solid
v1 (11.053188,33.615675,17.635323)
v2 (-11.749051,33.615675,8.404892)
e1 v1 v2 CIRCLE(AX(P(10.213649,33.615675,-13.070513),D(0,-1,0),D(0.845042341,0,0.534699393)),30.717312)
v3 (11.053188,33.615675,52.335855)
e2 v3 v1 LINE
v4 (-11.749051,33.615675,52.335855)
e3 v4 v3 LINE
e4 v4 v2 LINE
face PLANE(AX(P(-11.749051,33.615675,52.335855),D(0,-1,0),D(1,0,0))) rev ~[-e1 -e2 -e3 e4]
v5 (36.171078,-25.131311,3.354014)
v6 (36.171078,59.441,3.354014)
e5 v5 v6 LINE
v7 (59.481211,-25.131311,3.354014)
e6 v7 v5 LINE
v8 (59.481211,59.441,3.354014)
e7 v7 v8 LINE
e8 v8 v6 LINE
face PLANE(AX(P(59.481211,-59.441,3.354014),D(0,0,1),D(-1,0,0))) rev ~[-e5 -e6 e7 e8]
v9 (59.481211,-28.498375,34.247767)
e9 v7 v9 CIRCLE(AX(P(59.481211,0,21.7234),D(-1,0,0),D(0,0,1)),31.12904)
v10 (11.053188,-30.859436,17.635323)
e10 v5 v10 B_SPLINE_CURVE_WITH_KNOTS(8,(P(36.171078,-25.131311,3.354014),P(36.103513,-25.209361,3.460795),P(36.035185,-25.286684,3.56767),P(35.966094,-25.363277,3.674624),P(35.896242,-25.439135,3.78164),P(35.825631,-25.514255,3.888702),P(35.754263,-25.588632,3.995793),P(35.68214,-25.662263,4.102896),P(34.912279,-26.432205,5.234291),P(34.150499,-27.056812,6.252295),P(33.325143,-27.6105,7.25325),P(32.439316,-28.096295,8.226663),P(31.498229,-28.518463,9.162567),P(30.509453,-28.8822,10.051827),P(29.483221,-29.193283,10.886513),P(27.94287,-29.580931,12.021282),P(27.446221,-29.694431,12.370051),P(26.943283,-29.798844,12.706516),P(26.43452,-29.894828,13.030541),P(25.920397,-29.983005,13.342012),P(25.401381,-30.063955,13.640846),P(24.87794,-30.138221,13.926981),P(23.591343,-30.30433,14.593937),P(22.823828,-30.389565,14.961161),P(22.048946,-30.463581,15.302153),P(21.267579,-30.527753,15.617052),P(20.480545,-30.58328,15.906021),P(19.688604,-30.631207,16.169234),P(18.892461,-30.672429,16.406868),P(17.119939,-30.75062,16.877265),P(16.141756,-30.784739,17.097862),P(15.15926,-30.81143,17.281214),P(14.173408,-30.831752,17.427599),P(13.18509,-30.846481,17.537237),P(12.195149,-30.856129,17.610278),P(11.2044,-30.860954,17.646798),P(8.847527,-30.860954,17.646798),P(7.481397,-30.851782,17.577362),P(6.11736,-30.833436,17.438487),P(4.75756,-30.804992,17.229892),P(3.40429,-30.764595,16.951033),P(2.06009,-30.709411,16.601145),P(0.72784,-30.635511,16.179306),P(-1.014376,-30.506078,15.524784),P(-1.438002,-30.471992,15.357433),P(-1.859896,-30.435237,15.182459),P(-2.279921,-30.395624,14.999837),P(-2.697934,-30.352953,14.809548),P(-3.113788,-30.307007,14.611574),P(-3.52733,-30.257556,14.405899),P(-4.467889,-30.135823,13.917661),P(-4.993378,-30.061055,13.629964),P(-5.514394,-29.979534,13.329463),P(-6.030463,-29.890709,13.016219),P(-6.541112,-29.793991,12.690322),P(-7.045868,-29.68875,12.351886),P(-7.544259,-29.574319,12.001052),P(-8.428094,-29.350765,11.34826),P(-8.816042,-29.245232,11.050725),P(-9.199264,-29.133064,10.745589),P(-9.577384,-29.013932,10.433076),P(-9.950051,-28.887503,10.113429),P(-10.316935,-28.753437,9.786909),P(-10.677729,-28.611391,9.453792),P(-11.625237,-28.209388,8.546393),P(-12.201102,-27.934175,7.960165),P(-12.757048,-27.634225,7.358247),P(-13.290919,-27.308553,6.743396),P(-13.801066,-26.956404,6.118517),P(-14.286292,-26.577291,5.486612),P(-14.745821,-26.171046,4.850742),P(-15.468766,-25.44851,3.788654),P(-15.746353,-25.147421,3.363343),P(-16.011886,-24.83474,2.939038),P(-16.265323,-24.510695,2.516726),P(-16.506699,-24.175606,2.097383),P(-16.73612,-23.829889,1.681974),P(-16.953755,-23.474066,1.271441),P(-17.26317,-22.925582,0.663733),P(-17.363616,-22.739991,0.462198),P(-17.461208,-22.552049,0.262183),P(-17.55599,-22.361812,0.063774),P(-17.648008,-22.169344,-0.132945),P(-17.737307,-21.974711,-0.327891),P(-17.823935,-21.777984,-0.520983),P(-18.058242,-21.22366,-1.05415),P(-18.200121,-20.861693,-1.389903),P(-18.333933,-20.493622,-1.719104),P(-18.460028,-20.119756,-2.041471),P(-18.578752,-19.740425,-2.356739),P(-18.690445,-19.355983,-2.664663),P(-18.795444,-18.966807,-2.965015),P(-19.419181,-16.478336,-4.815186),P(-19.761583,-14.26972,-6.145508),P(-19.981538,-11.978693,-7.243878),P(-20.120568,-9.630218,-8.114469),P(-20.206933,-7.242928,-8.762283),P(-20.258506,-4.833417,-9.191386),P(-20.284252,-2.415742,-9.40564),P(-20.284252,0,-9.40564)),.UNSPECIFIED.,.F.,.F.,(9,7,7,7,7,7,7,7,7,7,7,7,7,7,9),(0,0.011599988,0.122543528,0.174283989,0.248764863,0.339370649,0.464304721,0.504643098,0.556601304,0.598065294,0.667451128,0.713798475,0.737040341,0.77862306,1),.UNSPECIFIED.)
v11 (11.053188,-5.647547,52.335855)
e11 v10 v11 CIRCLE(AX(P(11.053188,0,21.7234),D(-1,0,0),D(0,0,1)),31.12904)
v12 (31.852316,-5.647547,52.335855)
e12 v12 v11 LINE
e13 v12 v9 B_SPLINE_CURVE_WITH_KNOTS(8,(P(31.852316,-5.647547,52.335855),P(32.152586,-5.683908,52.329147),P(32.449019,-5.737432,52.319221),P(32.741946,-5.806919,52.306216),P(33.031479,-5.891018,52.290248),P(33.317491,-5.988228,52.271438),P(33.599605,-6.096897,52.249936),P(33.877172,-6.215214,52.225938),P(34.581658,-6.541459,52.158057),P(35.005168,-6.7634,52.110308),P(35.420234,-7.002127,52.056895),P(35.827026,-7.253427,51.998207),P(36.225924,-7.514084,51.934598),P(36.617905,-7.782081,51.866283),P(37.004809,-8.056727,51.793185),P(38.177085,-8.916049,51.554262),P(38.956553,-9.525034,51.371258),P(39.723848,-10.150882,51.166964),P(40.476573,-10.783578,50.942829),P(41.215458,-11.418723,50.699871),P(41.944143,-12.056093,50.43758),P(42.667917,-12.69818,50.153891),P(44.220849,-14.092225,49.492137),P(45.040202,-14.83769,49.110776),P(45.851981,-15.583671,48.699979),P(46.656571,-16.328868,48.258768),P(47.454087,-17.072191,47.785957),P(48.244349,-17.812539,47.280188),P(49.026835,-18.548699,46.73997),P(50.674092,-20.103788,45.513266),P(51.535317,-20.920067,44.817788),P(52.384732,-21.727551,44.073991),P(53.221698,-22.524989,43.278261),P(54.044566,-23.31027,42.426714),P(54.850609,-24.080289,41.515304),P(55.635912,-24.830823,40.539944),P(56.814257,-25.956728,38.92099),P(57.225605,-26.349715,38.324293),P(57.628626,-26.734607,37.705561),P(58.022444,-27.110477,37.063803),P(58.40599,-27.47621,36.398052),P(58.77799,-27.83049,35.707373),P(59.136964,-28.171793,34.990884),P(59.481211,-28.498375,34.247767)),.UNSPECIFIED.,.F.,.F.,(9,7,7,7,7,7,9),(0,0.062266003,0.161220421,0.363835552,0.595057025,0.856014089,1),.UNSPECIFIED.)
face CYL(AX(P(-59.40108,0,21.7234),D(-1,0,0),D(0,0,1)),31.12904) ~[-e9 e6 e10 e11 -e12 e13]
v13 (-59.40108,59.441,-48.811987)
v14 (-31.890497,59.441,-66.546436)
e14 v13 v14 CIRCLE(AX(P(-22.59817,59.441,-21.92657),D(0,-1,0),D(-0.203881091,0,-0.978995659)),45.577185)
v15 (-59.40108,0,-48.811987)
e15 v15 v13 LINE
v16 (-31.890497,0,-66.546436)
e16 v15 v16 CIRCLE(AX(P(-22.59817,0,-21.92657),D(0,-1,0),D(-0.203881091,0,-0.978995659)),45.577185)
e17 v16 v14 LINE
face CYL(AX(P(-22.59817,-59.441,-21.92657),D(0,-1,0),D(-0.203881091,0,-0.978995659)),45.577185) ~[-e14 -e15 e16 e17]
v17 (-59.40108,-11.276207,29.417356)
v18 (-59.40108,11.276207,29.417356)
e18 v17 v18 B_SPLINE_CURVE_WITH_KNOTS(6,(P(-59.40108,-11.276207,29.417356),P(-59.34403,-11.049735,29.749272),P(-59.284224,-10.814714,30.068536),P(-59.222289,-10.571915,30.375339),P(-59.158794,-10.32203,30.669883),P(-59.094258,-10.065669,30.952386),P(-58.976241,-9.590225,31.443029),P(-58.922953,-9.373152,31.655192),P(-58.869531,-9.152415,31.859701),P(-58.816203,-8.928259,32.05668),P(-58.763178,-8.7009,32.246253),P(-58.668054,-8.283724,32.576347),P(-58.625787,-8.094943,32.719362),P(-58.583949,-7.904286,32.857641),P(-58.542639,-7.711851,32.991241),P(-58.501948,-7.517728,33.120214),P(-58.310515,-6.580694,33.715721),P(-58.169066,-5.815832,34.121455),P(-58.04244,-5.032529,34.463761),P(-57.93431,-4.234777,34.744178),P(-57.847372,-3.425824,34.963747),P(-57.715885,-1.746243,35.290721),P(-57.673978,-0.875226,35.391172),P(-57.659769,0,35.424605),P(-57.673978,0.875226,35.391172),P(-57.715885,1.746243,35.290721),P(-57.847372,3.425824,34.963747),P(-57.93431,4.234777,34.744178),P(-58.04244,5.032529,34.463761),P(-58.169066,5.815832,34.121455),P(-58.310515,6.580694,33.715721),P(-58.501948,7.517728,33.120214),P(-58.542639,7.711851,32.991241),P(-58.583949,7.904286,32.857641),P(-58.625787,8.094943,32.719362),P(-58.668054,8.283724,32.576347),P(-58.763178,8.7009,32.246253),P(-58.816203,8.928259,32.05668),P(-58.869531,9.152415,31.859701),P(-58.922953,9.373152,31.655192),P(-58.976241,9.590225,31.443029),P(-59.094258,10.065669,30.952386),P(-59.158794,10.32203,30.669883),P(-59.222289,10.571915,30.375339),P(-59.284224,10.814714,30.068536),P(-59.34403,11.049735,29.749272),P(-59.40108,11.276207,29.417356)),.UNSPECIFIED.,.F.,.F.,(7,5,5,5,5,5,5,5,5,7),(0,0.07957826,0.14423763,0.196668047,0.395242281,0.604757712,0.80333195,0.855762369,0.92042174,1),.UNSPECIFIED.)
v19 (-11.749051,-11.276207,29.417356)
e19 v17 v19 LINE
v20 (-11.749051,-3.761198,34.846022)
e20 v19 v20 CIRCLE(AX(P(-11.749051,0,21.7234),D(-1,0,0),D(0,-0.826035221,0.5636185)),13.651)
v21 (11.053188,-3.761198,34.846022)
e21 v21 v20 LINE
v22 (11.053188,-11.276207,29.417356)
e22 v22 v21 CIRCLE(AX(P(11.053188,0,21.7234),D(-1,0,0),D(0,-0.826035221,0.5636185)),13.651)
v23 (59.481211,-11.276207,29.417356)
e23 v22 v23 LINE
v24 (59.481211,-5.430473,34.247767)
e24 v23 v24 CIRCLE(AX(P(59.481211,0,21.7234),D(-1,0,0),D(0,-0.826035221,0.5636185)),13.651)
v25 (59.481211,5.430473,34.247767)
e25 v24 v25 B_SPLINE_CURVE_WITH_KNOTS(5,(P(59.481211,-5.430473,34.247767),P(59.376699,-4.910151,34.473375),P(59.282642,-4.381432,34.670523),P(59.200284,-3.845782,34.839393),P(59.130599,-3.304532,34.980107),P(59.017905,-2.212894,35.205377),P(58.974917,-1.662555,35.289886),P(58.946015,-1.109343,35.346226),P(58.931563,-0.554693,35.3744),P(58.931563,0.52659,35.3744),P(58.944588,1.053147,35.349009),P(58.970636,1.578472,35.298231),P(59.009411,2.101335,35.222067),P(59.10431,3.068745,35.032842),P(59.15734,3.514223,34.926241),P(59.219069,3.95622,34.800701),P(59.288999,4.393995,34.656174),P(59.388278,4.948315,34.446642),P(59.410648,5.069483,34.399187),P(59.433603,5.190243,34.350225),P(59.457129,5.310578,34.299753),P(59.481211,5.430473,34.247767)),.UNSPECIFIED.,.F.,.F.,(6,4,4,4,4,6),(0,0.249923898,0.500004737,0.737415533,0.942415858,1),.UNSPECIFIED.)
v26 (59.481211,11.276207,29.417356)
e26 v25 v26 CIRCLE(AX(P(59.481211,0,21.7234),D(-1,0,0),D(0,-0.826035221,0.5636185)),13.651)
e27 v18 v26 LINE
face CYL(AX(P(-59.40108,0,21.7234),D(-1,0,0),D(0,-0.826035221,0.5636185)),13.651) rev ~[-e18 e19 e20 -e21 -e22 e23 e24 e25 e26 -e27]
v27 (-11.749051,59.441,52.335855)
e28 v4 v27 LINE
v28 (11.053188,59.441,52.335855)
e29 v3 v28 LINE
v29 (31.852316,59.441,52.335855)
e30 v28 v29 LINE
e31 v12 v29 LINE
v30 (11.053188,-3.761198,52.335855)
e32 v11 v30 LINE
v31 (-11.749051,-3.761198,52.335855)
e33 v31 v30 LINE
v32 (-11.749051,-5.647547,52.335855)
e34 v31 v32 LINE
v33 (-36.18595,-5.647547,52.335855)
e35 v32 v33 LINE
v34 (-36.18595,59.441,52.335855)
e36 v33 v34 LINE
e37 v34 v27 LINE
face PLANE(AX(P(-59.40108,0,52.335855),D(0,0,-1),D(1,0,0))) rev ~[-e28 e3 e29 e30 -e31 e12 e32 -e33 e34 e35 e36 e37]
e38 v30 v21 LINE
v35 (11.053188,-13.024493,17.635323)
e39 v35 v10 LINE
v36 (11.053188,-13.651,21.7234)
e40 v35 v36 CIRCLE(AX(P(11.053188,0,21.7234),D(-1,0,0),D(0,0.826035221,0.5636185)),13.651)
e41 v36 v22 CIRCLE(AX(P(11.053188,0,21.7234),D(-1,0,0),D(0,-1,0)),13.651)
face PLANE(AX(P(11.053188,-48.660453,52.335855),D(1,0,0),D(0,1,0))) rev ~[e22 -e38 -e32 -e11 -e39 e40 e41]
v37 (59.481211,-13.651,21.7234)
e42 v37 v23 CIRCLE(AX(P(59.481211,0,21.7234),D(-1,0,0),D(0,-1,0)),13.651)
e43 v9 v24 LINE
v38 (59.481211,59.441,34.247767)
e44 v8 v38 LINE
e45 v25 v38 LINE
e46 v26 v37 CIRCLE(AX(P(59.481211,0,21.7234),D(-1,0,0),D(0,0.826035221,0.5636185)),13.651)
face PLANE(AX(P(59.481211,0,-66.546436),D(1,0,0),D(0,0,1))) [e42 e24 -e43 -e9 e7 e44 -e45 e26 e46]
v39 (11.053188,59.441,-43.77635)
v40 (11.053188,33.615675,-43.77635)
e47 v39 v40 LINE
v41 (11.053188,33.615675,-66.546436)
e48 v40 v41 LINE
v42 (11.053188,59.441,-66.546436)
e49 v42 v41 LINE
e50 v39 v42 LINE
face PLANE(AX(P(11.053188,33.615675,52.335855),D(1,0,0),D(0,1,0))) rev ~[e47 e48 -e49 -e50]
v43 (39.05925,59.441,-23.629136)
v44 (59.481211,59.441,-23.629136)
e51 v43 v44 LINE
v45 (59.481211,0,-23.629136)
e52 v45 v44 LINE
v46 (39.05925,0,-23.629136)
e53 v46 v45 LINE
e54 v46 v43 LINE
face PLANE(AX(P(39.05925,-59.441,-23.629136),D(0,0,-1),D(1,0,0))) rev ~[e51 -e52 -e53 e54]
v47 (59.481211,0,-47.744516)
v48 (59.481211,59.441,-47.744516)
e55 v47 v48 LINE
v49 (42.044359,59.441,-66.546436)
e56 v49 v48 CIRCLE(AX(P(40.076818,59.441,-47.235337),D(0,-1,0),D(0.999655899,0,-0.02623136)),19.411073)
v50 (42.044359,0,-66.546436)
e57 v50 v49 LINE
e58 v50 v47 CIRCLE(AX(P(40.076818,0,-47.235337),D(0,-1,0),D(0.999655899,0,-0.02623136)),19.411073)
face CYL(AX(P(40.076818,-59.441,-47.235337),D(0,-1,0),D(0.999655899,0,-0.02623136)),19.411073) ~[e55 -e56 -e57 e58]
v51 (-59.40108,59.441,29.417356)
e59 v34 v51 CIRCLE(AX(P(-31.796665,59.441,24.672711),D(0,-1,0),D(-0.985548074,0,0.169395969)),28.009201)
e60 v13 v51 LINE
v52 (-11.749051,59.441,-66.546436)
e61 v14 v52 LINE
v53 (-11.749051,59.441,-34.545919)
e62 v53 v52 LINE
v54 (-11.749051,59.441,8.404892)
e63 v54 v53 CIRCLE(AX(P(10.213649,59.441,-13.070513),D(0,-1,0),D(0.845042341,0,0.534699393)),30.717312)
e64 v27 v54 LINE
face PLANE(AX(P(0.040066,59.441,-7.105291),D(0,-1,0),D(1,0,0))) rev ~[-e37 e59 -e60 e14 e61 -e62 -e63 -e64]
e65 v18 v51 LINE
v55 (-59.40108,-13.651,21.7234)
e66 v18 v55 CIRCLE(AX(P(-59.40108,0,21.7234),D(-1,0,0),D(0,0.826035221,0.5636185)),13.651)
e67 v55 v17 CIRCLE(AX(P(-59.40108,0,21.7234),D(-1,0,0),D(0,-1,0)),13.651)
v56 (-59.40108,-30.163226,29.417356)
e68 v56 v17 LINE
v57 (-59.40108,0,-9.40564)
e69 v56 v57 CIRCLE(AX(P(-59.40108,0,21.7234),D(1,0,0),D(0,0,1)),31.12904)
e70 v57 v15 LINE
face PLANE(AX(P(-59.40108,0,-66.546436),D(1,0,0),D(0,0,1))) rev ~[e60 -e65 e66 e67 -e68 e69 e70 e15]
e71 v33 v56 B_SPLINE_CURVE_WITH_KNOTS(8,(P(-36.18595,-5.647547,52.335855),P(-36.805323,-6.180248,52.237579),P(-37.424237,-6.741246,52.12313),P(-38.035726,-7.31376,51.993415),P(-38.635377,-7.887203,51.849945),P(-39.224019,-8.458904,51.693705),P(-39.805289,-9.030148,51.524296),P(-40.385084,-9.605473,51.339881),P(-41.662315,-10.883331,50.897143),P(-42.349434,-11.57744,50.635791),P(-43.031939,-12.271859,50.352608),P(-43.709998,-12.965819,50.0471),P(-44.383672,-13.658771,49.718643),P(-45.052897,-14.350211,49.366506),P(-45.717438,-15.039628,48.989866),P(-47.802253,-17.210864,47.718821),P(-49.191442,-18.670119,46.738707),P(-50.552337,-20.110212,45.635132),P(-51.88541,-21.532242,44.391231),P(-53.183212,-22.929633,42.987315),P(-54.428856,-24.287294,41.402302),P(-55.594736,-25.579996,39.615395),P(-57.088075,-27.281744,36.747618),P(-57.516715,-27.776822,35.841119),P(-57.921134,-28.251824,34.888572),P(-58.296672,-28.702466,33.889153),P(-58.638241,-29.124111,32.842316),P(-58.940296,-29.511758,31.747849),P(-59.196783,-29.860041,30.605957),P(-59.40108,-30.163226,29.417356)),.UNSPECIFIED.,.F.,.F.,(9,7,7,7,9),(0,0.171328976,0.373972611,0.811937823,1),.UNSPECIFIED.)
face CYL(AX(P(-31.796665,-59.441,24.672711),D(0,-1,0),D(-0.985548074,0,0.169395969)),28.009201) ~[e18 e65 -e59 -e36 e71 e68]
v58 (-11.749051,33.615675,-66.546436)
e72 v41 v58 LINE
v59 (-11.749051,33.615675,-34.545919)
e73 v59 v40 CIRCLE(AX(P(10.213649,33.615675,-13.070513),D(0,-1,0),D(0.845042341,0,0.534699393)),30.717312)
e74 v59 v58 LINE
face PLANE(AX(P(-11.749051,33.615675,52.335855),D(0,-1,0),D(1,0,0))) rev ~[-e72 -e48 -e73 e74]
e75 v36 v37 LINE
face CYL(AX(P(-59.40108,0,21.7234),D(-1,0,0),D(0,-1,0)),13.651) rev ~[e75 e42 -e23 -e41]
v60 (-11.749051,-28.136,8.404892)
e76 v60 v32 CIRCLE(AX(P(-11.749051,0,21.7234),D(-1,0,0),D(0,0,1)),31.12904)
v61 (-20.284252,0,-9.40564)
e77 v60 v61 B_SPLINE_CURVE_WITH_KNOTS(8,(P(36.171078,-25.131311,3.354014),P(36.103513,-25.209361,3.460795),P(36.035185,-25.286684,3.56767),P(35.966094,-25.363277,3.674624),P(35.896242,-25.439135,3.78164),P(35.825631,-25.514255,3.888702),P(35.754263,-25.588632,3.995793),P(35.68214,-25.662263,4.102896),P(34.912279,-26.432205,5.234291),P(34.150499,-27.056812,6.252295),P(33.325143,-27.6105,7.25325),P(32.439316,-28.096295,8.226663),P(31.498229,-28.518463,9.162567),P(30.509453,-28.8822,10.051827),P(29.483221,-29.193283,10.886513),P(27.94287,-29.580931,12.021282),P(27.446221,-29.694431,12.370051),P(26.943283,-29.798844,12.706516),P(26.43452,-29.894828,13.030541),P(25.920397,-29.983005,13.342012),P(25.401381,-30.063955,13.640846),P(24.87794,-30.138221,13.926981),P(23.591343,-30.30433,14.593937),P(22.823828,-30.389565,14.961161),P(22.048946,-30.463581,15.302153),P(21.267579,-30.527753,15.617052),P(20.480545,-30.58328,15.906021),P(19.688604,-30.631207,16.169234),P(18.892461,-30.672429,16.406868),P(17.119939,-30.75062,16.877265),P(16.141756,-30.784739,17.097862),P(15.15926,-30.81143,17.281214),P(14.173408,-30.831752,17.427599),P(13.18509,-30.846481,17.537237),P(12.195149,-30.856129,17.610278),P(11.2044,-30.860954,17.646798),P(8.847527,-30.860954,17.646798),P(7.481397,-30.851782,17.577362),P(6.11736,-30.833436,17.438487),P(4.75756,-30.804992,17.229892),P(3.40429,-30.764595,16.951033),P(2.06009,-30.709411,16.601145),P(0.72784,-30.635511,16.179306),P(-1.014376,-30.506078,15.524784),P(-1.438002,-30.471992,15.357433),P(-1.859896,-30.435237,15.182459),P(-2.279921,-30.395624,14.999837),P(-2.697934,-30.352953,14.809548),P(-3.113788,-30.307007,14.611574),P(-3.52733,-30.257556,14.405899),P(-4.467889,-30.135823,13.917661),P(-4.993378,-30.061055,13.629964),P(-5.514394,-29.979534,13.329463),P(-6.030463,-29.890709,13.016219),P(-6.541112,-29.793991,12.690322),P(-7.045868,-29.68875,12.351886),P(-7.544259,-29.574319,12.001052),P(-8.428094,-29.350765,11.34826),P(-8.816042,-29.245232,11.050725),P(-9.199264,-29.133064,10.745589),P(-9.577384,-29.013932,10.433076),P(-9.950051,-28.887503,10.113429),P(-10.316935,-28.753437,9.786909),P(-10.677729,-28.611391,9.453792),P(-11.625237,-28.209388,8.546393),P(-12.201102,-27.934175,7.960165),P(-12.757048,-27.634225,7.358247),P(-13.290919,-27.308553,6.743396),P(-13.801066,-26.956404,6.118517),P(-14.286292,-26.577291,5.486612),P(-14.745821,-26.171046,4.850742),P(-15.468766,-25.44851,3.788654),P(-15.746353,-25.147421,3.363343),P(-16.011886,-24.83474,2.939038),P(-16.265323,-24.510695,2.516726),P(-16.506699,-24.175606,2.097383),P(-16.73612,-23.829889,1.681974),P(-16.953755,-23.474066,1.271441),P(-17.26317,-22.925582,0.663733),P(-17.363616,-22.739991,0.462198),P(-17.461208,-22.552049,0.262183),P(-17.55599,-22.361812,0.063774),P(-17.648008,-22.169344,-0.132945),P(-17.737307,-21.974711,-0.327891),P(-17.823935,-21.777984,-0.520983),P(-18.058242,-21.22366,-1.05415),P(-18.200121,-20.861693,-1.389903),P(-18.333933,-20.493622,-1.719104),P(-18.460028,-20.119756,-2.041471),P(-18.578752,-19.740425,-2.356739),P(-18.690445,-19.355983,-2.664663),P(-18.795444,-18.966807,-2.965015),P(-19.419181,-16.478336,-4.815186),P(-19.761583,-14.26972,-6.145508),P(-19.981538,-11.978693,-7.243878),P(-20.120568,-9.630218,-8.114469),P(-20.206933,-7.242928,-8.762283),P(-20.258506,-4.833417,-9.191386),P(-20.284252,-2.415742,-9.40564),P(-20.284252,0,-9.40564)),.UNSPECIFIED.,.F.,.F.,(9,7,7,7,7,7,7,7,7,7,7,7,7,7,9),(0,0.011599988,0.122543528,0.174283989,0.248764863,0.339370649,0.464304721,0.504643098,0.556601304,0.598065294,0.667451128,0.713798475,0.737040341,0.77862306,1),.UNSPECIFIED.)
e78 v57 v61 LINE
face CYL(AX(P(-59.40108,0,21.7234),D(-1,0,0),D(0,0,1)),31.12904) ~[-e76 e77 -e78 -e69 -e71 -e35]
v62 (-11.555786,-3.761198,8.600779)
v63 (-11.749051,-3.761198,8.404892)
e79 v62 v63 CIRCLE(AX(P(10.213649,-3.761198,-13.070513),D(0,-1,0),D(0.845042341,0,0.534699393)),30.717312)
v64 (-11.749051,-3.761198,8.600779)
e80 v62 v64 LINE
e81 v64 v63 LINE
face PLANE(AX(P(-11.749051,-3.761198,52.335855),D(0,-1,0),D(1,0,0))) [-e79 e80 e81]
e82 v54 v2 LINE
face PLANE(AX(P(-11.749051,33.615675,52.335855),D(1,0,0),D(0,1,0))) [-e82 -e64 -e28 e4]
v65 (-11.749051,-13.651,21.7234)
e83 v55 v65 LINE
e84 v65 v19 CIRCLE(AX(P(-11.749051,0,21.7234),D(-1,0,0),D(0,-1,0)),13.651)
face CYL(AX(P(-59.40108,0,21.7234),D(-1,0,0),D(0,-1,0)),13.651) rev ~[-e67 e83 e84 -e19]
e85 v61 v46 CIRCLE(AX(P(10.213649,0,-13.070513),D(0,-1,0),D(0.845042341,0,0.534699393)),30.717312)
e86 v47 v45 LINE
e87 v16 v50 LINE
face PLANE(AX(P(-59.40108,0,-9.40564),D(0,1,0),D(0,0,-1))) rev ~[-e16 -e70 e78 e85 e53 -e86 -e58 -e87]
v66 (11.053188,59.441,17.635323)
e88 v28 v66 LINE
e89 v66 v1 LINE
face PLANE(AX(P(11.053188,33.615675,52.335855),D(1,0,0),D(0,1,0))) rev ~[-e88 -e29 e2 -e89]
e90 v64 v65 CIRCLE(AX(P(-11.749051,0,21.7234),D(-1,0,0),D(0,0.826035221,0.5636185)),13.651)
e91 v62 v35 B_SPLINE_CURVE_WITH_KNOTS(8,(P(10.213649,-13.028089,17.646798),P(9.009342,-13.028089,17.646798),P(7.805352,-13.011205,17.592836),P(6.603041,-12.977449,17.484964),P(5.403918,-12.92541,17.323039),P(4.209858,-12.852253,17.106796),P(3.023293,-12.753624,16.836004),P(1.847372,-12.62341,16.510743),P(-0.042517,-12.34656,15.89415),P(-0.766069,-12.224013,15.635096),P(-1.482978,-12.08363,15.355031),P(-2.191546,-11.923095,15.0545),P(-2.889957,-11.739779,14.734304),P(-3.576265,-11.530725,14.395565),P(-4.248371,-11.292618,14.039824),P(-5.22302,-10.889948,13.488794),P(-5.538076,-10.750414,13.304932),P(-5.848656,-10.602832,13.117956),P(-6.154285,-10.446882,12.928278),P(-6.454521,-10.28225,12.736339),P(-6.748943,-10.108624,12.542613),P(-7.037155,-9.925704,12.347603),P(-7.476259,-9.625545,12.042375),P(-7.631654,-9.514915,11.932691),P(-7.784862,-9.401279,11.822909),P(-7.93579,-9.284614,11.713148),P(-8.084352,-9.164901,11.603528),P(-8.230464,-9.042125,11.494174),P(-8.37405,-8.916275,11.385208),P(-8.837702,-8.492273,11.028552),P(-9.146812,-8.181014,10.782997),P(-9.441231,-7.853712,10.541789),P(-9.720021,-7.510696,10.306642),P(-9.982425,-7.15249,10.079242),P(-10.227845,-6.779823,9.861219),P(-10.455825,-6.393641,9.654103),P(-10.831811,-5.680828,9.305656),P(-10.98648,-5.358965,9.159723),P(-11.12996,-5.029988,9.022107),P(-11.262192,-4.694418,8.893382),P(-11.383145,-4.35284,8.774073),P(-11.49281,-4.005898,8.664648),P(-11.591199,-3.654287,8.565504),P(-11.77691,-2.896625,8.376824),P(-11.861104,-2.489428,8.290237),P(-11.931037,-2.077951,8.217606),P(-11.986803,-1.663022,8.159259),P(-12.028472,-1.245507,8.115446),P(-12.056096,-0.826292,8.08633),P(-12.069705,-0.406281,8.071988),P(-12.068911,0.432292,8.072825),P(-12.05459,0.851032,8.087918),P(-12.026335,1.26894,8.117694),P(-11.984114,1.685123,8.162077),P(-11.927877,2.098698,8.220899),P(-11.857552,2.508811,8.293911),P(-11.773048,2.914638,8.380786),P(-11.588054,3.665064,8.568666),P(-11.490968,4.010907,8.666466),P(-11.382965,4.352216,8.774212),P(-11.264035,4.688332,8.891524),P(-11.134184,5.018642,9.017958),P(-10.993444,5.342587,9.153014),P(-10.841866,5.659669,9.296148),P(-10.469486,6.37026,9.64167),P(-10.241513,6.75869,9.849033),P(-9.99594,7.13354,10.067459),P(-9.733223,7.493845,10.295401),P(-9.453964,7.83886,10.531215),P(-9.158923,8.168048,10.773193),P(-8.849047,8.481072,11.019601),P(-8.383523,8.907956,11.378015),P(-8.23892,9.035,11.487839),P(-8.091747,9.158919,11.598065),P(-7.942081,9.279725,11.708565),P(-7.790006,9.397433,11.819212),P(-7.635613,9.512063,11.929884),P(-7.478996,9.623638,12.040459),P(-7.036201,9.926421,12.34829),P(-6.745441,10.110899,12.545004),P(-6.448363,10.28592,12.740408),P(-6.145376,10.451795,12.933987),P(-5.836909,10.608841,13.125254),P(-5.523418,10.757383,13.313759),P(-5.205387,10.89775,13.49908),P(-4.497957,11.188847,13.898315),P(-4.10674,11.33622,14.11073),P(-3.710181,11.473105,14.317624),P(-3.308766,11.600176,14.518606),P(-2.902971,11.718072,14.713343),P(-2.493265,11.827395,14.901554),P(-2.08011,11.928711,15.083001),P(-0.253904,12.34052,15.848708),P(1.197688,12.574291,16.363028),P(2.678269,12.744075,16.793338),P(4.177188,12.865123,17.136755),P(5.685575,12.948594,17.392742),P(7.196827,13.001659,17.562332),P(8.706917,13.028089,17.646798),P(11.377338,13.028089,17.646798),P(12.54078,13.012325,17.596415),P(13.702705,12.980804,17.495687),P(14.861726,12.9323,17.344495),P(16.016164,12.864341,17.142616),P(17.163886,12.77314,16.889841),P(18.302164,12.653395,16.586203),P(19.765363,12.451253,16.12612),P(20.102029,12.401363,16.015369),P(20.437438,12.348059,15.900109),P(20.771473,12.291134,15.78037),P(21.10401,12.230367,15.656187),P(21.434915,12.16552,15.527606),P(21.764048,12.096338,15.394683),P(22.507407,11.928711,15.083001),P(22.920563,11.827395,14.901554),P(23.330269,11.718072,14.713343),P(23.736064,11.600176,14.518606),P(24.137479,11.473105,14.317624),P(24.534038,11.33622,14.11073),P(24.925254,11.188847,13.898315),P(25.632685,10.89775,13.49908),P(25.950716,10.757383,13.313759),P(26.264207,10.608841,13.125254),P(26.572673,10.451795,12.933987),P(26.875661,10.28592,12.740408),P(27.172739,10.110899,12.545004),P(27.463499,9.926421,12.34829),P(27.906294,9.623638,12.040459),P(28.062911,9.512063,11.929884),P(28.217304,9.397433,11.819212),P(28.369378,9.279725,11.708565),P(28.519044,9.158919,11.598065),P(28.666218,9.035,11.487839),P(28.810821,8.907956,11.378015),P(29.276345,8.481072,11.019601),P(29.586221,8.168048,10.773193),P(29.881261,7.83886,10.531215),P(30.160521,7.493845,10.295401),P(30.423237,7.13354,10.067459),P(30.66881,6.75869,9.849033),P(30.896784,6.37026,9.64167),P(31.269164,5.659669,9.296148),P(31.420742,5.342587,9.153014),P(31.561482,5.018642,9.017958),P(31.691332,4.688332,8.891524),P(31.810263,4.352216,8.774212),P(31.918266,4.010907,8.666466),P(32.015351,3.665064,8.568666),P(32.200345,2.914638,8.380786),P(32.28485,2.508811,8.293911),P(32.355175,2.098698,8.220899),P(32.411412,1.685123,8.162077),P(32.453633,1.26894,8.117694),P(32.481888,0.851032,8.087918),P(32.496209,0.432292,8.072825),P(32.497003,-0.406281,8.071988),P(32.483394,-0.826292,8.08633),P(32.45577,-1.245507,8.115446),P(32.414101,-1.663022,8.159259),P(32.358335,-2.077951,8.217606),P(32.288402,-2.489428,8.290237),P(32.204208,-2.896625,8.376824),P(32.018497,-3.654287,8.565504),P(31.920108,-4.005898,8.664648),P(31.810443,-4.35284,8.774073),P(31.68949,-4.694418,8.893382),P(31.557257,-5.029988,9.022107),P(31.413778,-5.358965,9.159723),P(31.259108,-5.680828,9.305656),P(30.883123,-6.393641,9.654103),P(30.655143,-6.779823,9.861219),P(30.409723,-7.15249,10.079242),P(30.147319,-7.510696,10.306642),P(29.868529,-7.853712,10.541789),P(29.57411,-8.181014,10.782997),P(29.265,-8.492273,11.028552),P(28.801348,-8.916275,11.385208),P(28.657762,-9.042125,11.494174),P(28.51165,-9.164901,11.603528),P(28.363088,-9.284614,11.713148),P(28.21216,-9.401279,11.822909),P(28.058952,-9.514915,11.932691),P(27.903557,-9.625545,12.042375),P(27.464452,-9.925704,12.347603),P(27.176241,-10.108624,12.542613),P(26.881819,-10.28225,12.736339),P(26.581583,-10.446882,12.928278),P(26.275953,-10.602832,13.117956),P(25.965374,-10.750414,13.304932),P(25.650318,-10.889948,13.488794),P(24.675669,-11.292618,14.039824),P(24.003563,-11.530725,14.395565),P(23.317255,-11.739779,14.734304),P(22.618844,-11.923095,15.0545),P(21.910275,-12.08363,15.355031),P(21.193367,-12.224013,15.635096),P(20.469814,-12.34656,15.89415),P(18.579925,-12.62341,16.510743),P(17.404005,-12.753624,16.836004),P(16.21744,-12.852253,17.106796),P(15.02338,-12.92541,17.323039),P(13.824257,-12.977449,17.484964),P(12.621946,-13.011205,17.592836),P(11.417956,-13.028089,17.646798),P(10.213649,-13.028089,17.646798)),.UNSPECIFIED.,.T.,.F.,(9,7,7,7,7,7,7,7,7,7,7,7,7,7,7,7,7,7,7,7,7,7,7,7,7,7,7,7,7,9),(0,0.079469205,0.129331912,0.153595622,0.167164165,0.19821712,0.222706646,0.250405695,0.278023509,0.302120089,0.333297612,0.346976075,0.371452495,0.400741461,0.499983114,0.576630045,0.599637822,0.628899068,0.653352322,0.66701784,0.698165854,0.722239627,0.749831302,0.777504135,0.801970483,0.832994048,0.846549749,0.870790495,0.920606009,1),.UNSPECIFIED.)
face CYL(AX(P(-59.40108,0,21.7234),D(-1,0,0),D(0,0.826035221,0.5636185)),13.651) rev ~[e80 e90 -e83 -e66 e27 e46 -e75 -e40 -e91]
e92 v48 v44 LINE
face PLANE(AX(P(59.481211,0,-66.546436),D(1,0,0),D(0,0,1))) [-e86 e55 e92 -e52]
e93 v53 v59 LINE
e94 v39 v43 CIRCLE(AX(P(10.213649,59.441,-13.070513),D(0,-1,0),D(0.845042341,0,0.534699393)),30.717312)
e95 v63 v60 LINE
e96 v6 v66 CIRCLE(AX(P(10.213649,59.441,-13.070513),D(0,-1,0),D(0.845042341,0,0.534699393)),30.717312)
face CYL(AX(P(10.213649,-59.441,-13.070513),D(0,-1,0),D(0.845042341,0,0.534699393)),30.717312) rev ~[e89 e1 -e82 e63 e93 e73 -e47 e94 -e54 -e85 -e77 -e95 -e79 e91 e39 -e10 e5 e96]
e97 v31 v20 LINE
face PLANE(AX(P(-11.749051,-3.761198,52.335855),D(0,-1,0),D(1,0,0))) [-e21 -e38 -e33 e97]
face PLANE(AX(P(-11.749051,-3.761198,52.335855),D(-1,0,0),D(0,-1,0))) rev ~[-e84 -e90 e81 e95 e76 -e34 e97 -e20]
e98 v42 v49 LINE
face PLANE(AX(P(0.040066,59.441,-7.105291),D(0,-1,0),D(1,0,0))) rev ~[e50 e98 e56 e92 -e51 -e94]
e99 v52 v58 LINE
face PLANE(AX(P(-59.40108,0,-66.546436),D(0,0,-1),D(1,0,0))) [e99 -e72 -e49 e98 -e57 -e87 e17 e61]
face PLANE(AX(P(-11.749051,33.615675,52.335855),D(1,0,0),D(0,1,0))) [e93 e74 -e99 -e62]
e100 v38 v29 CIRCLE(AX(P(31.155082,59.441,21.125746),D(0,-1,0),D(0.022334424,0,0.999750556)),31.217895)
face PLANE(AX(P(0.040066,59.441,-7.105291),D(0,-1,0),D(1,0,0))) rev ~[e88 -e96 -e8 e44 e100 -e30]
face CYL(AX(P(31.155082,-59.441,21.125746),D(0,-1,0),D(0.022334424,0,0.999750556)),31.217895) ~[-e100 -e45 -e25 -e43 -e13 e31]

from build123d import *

# Parameters (mm, degrees)
F0_W          = 118.8822906261
F0_H          = 118.8822906261
F1_DEPTH      = 59.441
F1_DEPTH_BACK = 59.441
F3_DEPTH      = 118.883
F4_DEPTH      = 118.883
F5_DEPTH      = 118.883
F6_DEPTH      = 118.883
F8_DEPTH      = 118.8832906261
F9_W          = 22.8022392839
F9_H          = 25.8253251765
F9_H_2        = 1.8863490666
F10_DEPTH     = 118.8832906261


with BuildPart() as f1:
    # F0 (on Front) → F1 (new body, two sides)
    with BuildSketch(Plane.XZ) as f1_sk:
        with Locations((0.0400656936, -7.1052906933)):
            Rectangle(F0_W, F0_H)
    extrude(amount=F1_DEPTH)
    extrude(f1_sk.sketch, amount=-F1_DEPTH_BACK)

    # F2 (on face) → F3 (cut, through all)
    with BuildSketch(Plane.XZ.offset(59.441)):
        with BuildLine():
            Line((59.4812110066, -23.6291363835), (59.4812110066, 3.3540143631))
            Line((59.4812110066, 3.3540143631), (36.171077782, 3.3540143631))
            ThreePointArc((36.171077782, 3.3540143631), (-20.329200251, -16.339702262), (39.0592501624, -23.6291363835))
            Line((39.0592501624, -23.6291363835), (59.4812110066, -23.6291363835))
        make_face()
        with BuildLine():
            ThreePointArc((-59.4010796194, 29.4173564762), (-51.4744086785, 44.6051407739), (-36.1859500408, 52.3358546197))
            Line((-36.1859500408, 52.3358546197), (-59.4010796194, 52.3358546197))
            Line((-59.4010796194, 52.3358546197), (-59.4010796194, 29.4173564762))
        make_face()
    extrude(amount=-F3_DEPTH, mode=Mode.SUBTRACT)

    # F2 (on face) → F4 (cut, through all)
    with BuildSketch(Plane.XZ.offset(59.441)):
        with BuildLine():
            Line((59.4812110066, 52.3358546197), (31.8523161113, 52.3358546197))
            ThreePointArc((31.8523161113, 52.3358546197), (48.2543109443, 47.2441953068), (59.4812110066, 34.2477671802))
            Line((59.4812110066, 34.2477671802), (59.4812110066, 52.3358546197))
        make_face()
    extrude(amount=-F4_DEPTH, mode=Mode.SUBTRACT)

    # F2 (on face) → F5 (cut, through all)
    with BuildSketch(Plane.XZ.offset(59.441)):
        with BuildLine():
            ThreePointArc((-31.8904966116, -66.5464360063), (-47.2927113432, -60.2340029507), (-59.4010796194, -48.8119870424))
            Line((-59.4010796194, -48.8119870424), (-59.4010796194, -66.5464360063))
            Line((-59.4010796194, -66.5464360063), (-31.8904966116, -66.5464360063))
        make_face()
    extrude(amount=-F5_DEPTH, mode=Mode.SUBTRACT)

    # F2 (on face) → F6 (cut, through all)
    with BuildSketch(Plane.XZ.offset(59.441)):
        with BuildLine():
            ThreePointArc((59.4812110066, -47.7445162833), (54.3094541563, -60.4346481438), (42.0443587764, -66.5464360063))
            Line((42.0443587764, -66.5464360063), (59.4812110066, -66.5464360063))
            Line((59.4812110066, -66.5464360063), (59.4812110066, -47.7445162833))
        make_face()
    extrude(amount=-F6_DEPTH, mode=Mode.SUBTRACT)

    # F7 (on face) → F8 (cut, through all)
    with BuildSketch(Plane(origin=(-59.4010796194, 0, 0), x_dir=(0, -1, 0), z_dir=(-1, 0, 0))):
        with BuildLine():
            Line((0, -9.4056399539), (0, -48.8119870424))
            Line((0, -48.8119870424), (59.441, -48.8119870424))
            Line((59.441, -48.8119870424), (59.441, 29.4173564762))
            Line((59.441, 29.4173564762), (30.1632257603, 29.4173564762))
            ThreePointArc((30.1632257603, 29.4173564762), (24.581727157, 2.6248182068), (0, -9.4056399539))
        make_face()
        with BuildLine():
            Line((0, -48.8119870424), (0, -66.7257010937))
            Line((0, -66.7257010937), (59.7706362605, -66.7257010937))
            Line((59.7706362605, -66.7257010937), (59.441, 52.8524406254))
            Line((59.441, 52.8524406254), (0, 52.8524406254))
            ThreePointArc((0, 52.8524406254), (19.098582129, 46.3051274927), (30.1632257603, 29.4173564762))
            Line((30.1632257603, 29.4173564762), (59.441, 29.4173564762))
            Line((59.441, 29.4173564762), (59.441, -48.8119870424))
            Line((59.441, -48.8119870424), (0, -48.8119870424))
        make_face()
        with BuildLine():
            Line((-11.276206805, 29.4173564762), (11.276206805, 29.4173564762))
            ThreePointArc((11.276206805, 29.4173564762), (0, 35.3744003358), (-11.276206805, 29.4173564762))
        make_face()
        with BuildLine():
            ThreePointArc((13.651, 21.7234003358), (13.0437973784, 25.749459321), (11.276206805, 29.4173564762))
            Line((11.276206805, 29.4173564762), (-11.276206805, 29.4173564762))
            ThreePointArc((-11.276206805, 29.4173564762), (-4.0260589852, 8.6796029574), (13.651, 21.7234003358))
        make_face()
    extrude(amount=-F8_DEPTH, mode=Mode.SUBTRACT)

    # F9 (on face) → F10 (cut, through all)
    with BuildSketch(Plane.XY.offset(52.3358546197)):
        with Locations((-0.3479313365, 46.5283374118)):
            Rectangle(F9_W, F9_H)
        with Locations((-0.3479313365, -4.7043729049)):
            Rectangle(F9_W, F9_H_2)
        Polygon((-11.7490509785, -5.6475474382), (-11.7490509785, -48.8955229521), (11.0531883055, -48.660453409), (11.0531883055, -5.6475474382), align=None)
    extrude(amount=-F10_DEPTH, mode=Mode.SUBTRACT)


solid = f1.part
